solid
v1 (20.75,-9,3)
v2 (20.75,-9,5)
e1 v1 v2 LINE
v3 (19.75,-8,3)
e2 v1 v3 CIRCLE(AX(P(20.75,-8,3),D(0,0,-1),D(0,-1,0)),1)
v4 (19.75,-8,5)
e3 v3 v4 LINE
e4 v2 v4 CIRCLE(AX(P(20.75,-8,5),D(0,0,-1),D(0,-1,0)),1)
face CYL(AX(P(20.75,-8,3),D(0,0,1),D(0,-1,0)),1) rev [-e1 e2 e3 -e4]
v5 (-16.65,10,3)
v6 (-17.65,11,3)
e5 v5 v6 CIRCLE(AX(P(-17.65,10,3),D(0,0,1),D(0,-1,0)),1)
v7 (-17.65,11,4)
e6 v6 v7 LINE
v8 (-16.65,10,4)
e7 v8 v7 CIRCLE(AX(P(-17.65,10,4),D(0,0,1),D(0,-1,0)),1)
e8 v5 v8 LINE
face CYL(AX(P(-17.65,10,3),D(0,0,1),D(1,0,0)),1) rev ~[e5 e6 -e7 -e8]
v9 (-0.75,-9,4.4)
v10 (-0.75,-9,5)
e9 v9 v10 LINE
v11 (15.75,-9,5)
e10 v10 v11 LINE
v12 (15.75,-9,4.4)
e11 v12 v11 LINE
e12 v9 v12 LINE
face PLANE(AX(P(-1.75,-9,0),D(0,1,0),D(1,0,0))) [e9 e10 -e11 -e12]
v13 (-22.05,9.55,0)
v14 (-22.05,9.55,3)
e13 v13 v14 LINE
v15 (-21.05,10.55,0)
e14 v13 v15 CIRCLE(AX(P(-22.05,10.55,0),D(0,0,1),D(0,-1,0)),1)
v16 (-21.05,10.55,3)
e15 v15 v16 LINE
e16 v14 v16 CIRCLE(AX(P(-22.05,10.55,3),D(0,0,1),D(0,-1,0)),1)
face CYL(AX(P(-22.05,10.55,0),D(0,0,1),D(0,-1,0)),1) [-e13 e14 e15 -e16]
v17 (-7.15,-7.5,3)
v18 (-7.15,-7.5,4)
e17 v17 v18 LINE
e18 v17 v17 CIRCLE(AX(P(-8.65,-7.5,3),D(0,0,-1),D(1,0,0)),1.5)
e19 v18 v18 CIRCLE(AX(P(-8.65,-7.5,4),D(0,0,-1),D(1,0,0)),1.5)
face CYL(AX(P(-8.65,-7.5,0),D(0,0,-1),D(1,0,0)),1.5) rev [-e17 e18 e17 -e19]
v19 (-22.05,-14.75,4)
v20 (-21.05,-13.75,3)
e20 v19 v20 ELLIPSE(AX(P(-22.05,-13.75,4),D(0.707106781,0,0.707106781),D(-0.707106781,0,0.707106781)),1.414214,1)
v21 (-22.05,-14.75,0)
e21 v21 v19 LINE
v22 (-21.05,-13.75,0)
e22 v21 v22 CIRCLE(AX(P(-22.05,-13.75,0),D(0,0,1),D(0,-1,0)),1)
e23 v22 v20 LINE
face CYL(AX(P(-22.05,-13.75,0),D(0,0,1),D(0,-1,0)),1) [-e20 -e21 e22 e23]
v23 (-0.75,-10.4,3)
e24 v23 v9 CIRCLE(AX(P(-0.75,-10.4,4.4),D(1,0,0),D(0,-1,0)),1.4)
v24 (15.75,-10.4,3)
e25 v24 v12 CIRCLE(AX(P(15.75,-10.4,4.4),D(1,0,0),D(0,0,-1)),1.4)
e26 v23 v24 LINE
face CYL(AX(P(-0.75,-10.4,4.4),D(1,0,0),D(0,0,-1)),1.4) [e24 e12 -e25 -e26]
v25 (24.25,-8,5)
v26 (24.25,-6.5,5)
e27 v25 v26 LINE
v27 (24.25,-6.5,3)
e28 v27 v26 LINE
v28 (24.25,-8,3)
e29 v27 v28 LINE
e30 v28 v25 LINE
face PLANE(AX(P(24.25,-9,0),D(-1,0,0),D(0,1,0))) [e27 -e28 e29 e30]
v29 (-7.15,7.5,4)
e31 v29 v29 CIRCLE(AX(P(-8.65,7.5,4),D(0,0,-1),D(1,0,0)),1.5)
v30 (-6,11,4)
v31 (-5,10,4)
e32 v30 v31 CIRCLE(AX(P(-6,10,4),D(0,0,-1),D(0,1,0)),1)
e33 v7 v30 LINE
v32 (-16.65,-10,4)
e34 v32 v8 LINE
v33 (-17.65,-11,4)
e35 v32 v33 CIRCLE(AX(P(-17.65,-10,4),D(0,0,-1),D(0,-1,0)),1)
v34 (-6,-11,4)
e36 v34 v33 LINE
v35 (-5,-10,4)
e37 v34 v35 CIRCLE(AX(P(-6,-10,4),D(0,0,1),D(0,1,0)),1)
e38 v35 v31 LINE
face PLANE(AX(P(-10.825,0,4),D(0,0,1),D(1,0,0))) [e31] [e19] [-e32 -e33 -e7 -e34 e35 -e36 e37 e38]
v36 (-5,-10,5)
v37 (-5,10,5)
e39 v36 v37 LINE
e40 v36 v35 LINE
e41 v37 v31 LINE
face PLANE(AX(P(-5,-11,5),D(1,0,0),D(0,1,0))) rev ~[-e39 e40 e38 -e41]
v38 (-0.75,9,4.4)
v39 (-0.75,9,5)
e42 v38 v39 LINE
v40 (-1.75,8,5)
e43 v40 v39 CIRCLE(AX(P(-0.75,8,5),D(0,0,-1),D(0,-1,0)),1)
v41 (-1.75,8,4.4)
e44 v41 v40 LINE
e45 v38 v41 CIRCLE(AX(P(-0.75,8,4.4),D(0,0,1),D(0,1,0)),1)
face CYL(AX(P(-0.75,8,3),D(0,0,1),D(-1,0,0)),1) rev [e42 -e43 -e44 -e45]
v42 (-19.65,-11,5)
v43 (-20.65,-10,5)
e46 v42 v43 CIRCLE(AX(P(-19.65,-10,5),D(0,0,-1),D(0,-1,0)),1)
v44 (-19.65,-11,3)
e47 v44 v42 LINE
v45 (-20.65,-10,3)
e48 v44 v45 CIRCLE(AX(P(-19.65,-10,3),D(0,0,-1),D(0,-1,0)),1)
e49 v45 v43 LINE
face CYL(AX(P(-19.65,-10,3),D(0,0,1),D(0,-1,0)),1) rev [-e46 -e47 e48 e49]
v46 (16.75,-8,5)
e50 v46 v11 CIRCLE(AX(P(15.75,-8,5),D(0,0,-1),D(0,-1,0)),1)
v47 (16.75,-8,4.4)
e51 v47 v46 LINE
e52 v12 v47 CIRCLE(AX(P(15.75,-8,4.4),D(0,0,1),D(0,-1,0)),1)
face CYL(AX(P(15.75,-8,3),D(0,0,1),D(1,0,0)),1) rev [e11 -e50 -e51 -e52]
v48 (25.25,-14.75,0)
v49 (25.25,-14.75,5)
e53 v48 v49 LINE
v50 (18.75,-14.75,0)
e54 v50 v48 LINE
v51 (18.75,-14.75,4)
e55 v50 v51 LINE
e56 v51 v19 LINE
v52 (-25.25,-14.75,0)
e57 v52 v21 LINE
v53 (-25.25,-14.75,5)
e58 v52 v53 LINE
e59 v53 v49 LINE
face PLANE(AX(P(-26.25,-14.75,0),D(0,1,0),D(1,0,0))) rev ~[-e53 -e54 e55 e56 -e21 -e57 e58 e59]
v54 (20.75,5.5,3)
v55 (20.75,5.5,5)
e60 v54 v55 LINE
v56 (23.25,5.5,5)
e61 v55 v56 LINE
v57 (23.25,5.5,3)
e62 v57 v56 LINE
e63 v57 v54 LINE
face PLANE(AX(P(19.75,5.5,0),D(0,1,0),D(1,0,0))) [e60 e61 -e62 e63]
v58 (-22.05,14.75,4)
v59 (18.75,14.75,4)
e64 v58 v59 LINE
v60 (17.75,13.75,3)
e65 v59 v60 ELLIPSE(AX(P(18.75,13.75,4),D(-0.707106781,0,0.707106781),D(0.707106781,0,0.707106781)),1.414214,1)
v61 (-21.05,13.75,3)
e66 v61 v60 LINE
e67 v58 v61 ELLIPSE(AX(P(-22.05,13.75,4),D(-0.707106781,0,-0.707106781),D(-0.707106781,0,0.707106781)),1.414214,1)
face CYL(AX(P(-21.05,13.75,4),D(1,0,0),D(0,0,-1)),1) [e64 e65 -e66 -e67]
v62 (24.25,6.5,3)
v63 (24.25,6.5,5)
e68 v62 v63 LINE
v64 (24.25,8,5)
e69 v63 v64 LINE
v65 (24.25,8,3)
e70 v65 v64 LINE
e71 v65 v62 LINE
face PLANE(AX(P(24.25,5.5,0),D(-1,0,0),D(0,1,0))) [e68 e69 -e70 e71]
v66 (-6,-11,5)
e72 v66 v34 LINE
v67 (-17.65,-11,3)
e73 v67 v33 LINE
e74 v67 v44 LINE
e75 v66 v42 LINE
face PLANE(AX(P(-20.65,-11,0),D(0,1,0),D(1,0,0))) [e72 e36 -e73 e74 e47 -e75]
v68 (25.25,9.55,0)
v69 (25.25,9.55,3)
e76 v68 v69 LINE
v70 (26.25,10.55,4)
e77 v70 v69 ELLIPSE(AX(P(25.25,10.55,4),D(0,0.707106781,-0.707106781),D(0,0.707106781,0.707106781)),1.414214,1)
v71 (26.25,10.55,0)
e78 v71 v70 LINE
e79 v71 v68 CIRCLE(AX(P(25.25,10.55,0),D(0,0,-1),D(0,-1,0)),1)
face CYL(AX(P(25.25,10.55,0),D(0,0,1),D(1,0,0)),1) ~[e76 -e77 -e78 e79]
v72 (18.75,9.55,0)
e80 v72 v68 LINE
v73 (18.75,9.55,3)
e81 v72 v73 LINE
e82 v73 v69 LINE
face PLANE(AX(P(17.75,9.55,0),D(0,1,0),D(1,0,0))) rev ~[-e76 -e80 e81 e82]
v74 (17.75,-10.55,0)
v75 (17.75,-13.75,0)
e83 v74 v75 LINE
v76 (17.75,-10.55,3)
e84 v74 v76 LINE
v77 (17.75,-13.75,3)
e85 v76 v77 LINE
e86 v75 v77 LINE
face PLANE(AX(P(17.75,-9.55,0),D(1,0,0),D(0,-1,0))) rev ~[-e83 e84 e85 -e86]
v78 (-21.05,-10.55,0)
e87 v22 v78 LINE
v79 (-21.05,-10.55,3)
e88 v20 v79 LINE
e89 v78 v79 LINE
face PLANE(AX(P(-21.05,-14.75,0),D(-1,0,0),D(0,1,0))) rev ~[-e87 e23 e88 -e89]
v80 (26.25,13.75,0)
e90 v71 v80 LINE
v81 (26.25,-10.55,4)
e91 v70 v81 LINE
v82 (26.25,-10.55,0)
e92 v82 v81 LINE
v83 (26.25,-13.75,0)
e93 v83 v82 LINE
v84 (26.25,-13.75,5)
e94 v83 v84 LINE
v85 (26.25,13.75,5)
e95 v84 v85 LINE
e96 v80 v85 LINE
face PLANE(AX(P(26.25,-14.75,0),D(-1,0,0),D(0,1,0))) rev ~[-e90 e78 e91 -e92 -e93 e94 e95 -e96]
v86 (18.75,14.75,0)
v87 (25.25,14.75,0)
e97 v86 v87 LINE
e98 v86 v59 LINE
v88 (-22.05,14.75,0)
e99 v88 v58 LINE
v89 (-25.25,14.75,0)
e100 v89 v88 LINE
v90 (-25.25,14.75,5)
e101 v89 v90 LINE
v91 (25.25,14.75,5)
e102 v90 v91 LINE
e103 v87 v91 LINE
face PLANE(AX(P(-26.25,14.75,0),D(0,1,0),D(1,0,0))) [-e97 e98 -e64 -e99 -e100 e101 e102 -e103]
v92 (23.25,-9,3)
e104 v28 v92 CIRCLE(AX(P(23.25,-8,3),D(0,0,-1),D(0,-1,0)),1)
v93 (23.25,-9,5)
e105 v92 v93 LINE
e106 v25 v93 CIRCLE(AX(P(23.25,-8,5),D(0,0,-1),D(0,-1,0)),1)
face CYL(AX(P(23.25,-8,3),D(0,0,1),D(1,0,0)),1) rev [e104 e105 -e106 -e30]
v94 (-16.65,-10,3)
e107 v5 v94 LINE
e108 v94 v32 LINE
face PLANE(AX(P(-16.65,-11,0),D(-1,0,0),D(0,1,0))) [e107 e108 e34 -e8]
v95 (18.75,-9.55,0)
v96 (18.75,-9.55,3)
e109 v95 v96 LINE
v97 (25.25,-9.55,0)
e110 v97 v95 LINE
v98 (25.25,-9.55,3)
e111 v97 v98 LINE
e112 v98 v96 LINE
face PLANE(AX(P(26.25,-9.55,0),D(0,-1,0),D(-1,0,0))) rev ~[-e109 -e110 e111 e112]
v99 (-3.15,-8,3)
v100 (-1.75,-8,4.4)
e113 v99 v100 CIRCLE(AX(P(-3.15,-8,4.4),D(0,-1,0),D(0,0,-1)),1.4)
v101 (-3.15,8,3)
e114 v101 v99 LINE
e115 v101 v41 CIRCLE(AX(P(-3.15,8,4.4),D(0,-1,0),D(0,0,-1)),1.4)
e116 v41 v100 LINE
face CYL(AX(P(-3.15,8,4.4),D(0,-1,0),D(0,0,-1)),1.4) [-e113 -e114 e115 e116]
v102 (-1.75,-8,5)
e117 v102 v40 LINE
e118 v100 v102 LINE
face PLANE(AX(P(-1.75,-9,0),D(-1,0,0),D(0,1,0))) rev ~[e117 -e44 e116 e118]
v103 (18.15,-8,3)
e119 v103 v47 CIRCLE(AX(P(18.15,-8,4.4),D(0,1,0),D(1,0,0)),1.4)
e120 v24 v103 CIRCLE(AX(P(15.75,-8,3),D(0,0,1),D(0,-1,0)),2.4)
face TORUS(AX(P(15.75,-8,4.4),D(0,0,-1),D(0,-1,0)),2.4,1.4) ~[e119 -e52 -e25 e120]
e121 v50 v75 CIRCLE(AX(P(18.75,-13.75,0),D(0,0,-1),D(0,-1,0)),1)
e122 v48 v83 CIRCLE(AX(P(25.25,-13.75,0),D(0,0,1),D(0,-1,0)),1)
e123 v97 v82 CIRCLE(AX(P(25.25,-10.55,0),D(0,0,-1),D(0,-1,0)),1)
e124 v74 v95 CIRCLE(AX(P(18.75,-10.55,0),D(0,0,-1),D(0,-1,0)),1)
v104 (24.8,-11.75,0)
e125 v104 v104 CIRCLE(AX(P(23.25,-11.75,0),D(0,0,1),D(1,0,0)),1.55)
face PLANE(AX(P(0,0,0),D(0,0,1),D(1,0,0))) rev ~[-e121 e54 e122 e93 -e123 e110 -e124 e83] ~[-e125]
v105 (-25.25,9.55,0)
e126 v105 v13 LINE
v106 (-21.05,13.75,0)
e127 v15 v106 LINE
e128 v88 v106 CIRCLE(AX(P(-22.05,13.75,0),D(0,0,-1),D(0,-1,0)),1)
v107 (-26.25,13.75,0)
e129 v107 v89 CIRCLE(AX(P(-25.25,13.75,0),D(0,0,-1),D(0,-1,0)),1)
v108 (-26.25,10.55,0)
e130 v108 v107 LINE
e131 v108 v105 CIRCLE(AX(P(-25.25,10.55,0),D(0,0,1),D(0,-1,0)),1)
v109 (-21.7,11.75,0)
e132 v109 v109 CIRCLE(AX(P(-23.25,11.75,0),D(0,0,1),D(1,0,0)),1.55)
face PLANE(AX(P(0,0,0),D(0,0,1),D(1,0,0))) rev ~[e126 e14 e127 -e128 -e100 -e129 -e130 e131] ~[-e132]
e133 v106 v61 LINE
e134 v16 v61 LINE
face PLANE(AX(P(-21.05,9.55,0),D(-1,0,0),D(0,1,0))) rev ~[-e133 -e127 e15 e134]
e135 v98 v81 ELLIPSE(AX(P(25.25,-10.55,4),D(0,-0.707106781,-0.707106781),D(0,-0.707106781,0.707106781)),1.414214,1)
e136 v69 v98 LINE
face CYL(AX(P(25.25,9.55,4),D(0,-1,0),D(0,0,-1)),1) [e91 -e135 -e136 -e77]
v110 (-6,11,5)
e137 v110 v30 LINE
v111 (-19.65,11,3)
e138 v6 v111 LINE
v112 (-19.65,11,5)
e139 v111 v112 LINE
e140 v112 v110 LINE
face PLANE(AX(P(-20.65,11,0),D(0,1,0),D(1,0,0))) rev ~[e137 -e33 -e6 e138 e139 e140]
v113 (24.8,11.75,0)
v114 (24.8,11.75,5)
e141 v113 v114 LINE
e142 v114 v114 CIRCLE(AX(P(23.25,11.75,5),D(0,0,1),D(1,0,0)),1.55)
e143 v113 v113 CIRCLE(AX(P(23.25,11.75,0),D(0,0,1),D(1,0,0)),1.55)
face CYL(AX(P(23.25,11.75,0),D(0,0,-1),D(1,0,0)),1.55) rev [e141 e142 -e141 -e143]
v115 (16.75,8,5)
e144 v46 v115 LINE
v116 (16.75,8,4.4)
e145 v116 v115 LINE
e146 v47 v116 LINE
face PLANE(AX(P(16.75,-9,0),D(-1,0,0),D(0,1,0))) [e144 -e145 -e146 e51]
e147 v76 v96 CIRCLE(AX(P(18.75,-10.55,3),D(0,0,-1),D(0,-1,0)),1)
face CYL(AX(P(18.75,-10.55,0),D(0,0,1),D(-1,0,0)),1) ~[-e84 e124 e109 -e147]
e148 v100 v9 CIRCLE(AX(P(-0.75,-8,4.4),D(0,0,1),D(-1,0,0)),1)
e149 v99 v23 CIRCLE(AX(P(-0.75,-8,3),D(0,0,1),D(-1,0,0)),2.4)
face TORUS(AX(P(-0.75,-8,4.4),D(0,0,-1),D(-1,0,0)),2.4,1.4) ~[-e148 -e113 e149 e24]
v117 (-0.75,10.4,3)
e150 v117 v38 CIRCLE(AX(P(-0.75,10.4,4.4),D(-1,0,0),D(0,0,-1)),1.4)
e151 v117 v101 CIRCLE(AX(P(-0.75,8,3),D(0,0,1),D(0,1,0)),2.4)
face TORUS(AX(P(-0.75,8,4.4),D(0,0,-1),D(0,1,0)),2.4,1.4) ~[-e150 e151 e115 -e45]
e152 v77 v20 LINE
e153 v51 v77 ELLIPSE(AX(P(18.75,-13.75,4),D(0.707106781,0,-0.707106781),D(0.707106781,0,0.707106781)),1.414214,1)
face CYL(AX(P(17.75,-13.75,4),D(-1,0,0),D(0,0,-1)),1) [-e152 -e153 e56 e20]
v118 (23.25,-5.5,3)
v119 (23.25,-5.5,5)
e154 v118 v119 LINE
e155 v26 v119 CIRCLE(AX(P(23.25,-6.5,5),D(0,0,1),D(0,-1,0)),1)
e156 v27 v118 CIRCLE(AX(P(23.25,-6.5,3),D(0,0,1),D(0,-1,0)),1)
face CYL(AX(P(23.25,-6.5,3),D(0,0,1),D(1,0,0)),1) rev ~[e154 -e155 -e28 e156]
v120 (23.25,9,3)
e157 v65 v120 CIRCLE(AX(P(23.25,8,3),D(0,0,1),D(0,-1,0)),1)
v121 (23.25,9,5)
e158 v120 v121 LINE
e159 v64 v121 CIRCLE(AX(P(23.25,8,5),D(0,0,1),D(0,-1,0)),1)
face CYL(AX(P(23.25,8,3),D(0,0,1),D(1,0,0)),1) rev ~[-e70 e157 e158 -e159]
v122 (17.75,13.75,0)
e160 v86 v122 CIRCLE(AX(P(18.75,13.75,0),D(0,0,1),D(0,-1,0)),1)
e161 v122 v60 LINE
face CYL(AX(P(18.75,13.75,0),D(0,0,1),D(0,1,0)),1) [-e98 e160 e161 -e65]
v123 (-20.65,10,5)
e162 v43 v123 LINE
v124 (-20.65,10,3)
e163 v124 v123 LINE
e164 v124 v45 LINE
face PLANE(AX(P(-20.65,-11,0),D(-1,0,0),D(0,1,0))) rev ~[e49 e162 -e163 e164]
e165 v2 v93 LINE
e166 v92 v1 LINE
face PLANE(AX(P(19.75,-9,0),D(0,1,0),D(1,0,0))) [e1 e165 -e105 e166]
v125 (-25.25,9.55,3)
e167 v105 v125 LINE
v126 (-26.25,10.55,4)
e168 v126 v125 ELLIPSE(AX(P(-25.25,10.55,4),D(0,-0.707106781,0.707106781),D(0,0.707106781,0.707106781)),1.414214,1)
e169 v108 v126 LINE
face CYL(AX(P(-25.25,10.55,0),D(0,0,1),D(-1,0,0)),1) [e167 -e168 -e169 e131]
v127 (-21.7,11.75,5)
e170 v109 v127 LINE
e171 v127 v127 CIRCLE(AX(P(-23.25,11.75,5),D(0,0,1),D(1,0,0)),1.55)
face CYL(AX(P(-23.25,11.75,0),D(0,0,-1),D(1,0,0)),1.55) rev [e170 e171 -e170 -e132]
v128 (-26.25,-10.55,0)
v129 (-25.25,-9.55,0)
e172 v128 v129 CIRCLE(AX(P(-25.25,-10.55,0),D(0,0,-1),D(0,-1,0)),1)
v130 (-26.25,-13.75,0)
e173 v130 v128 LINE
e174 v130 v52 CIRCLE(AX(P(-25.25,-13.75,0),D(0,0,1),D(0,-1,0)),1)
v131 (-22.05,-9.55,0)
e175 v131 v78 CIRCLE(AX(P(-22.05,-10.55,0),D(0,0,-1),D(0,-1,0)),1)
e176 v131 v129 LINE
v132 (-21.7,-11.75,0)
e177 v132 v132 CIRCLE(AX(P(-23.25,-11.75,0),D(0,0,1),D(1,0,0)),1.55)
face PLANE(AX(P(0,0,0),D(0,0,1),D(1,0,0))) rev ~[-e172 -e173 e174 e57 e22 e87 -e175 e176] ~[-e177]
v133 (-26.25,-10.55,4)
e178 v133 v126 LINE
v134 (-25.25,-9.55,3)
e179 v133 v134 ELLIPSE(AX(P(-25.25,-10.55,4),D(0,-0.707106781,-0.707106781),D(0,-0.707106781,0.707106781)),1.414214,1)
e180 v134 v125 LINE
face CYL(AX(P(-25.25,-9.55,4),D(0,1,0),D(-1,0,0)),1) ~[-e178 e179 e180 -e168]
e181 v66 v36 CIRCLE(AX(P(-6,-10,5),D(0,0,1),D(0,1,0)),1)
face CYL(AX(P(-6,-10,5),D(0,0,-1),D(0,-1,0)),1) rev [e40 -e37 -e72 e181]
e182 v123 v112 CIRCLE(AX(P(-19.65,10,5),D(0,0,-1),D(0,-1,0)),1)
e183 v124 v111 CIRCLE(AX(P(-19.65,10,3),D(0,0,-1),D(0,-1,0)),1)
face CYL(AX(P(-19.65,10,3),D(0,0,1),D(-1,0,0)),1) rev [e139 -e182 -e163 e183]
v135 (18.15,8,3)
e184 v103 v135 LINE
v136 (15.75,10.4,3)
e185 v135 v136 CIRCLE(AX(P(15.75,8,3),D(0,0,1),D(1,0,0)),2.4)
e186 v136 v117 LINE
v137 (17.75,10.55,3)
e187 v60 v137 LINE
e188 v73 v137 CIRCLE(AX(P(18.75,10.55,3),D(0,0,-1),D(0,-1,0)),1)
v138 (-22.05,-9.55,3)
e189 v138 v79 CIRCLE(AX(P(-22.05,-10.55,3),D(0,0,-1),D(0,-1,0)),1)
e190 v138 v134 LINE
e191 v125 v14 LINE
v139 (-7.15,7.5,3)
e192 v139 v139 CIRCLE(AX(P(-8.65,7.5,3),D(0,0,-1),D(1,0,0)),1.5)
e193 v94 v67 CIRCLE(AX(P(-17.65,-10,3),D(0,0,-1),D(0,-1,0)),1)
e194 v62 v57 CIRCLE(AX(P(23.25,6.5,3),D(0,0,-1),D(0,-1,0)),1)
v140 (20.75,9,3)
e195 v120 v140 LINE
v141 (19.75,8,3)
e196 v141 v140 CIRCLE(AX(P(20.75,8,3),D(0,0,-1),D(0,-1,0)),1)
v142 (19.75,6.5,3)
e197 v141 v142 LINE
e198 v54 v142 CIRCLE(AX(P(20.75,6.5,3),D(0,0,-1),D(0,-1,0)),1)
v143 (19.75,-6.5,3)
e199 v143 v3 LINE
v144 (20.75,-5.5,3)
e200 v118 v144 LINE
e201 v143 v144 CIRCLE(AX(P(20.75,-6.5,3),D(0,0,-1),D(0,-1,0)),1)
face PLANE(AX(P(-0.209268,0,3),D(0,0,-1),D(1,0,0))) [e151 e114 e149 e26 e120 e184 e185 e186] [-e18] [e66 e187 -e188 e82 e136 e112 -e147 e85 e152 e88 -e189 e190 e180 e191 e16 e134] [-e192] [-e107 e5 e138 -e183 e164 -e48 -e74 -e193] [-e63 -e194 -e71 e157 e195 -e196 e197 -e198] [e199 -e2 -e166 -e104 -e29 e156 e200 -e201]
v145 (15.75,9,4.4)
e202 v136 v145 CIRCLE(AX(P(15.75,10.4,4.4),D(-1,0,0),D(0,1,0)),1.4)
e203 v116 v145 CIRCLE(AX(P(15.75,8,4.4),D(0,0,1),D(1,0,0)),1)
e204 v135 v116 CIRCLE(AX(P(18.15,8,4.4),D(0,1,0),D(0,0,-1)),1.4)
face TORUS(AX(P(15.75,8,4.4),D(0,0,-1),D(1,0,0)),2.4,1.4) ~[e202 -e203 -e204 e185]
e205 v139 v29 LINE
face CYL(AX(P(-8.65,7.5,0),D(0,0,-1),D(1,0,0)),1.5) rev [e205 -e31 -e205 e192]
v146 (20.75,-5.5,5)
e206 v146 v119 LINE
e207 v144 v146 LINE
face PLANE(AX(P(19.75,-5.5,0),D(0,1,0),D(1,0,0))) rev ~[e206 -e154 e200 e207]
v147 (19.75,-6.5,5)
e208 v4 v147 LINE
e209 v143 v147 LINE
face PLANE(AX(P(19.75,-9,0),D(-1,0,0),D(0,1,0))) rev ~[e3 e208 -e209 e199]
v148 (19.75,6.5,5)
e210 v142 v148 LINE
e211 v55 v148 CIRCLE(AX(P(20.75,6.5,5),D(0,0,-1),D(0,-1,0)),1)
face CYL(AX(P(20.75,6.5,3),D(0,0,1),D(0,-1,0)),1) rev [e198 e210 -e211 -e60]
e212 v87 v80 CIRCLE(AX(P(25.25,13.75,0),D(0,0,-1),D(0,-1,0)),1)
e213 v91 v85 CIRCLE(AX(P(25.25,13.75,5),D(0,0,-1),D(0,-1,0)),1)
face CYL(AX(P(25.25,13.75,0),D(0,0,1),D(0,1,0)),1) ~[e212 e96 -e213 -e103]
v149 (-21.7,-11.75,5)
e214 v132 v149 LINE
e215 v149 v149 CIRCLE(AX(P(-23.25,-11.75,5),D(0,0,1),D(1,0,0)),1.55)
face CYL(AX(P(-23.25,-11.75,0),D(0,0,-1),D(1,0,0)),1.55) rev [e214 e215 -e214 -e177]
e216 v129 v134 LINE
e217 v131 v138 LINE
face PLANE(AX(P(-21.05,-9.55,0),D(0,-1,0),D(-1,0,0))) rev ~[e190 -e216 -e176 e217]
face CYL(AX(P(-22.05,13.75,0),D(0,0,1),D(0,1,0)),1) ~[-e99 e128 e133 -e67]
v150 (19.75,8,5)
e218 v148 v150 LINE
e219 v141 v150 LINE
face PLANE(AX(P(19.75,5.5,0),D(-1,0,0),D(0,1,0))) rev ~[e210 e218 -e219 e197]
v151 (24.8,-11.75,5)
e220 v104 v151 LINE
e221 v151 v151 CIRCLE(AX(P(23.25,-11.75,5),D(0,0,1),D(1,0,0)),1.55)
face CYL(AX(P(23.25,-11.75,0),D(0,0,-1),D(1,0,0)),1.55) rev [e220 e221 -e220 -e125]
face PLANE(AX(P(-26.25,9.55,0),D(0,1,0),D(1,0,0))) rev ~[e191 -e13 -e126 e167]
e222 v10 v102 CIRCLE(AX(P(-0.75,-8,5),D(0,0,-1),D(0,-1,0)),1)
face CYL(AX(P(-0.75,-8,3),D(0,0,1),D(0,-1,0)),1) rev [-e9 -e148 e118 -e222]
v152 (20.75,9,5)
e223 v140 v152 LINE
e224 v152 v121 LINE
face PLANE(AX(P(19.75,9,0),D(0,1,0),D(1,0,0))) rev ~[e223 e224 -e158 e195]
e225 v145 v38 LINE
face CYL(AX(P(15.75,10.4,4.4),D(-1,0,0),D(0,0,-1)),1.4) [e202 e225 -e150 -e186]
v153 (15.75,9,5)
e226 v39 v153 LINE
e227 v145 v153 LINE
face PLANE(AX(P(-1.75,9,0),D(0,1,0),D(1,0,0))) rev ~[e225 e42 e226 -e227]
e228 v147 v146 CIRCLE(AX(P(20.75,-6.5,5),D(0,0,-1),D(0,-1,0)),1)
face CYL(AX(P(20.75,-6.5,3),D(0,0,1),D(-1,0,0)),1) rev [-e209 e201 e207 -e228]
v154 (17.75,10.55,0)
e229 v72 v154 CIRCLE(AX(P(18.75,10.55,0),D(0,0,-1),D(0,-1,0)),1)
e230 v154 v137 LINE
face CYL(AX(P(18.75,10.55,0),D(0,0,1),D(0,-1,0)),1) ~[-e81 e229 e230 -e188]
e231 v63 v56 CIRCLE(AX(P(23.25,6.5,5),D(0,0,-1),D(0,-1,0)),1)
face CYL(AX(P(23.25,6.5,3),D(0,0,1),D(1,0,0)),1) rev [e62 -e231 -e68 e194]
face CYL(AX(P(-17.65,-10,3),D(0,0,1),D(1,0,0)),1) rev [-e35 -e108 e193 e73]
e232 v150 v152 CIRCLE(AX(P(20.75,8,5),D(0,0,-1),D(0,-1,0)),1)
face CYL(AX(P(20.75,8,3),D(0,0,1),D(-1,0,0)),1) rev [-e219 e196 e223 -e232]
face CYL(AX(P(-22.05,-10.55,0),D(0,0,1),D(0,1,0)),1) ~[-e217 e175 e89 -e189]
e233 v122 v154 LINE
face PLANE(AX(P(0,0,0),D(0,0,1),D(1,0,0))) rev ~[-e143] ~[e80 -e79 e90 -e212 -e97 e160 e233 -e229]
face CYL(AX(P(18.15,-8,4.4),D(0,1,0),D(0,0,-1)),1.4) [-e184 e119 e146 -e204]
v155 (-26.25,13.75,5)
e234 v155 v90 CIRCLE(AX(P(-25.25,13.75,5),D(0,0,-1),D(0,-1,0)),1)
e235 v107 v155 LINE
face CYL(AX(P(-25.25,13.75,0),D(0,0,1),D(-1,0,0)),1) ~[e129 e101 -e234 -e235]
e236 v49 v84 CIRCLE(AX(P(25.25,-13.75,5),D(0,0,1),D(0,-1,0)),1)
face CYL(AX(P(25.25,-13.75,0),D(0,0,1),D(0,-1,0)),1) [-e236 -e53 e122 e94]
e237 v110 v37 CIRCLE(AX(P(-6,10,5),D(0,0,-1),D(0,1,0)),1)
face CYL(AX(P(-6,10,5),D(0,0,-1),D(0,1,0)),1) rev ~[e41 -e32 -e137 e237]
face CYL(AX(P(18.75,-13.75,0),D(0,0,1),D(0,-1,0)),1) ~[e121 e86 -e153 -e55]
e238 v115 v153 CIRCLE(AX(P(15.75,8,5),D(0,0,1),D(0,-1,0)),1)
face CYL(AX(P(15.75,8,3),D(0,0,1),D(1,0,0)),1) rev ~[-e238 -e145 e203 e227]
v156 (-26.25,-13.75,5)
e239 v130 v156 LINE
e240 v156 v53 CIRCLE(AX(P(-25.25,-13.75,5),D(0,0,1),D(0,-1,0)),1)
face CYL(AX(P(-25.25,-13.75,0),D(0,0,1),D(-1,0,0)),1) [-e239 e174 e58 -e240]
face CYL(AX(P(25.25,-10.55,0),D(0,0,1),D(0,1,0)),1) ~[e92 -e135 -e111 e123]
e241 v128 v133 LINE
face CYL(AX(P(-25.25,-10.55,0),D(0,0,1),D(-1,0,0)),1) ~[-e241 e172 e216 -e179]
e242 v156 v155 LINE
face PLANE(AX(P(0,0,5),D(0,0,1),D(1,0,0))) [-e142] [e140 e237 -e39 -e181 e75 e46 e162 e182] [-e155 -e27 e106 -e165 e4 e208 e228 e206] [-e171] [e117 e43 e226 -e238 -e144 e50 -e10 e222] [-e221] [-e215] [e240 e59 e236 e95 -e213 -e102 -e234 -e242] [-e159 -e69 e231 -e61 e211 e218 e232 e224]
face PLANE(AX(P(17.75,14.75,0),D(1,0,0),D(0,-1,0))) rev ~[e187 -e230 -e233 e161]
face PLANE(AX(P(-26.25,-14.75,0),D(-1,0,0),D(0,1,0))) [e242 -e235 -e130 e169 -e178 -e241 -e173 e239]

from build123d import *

# Parameters (mm, degrees)
SKETCH039_W     = 52.5
SKETCH039_H     = 29.5
SKETCH039_R     = 1.55
SKETCH039_R_2   = 1.5
SKETCH039_W_2   = 18.5
SKETCH039_H_2   = 18
SKETCH039_W_3   = 4
SKETCH039_H_3   = 22
SKETCH039_W_4   = 4.5
SKETCH039_H_4   = 3.5
PAD009_DEPTH    = 5
SKETCH040_W     = 11.65
SKETCH040_H     = 22
POCKET028_DEPTH = 1
POCKET029_DEPTH = 3
FILLET014_R     = 1
FILLET015_R     = 1.4


with BuildPart() as part:
    # Sketch039 → Pad009 (new body)
    with BuildSketch(Plane.XY):
        Rectangle(SKETCH039_W, SKETCH039_H)
        with Locations((-23.25, 11.75)):
            Circle(SKETCH039_R, mode=Mode.SUBTRACT)
        with Locations((23.25, 11.75)):
            Circle(SKETCH039_R, mode=Mode.SUBTRACT)
        with Locations((-23.25, -11.75)):
            Circle(SKETCH039_R, mode=Mode.SUBTRACT)
        with Locations((23.25, -11.75)):
            Circle(SKETCH039_R, mode=Mode.SUBTRACT)
        with Locations((-8.65, 7.5)):
            Circle(SKETCH039_R_2, mode=Mode.SUBTRACT)
        with Locations((-8.65, -7.5)):
            Circle(SKETCH039_R_2, mode=Mode.SUBTRACT)
        with Locations((7.5, 0)):
            Rectangle(SKETCH039_W_2, SKETCH039_H_2, mode=Mode.SUBTRACT)
        with Locations((-18.65, 0)):
            Rectangle(SKETCH039_W_3, SKETCH039_H_3, mode=Mode.SUBTRACT)
        with Locations((22, 7.25)):
            Rectangle(SKETCH039_W_4, SKETCH039_H_4, mode=Mode.SUBTRACT)
        with Locations((22, -7.25)):
            Rectangle(SKETCH039_W_4, SKETCH039_H_4, mode=Mode.SUBTRACT)
    extrude(amount=PAD009_DEPTH)

    # Sketch040 (on Face28 of Pad009) → Pocket028 (cut)
    with BuildSketch(Plane.XY.offset(5)):
        with Locations((-10.825, 0)):
            Rectangle(SKETCH040_W, SKETCH040_H)
    extrude(amount=-POCKET028_DEPTH, mode=Mode.SUBTRACT)

    # Sketch041 (on Face4 of Pocket028) → Pocket029 (cut)
    with BuildSketch(Plane(origin=(0, 0, 0), x_dir=(1, 0, 0), z_dir=(0, 0, -1))):
        Polygon((-21.05, 14.75), (-21.05, 9.55), (-26.25, 9.55), (-26.25, -9.55), (-21.05, -9.55), (-21.05, -14.75), (17.75, -14.75), (17.75, -9.55), (26.25, -9.55), (26.25, 9.55), (17.75, 9.55), (17.75, 14.75), align=None)
    extrude(amount=-POCKET029_DEPTH, mode=Mode.SUBTRACT)

    # Fillet014
    fillet014_edges = [part.edges().sort_by_distance(p)[0] for p in [
        (-26.25, -14.75, 2.5),
        (-26.25, 14.75, 2.5),
        (26.25, -14.75, 2.5),
        (17.75, -9.55, 1.5),
        (17.75, 9.55, 1.5),
        (-21.05, -9.55, 1.5),
        (-21.05, 9.55, 1.5),
        (26.25, 14.75, 2.5),
        (16.75, -9, 4),
        (-1.75, -9, 4),
        (16.75, 9, 4),
        (24.25, -5.5, 4),
        (24.25, 9, 4),
        (-16.65, 11, 3.5),
        (-20.65, -11, 4),
        (19.75, -9, 4),
        (19.75, 5.5, 4),
        (-20.65, 11, 4),
        (-1.75, 9, 4),
        (19.75, 9, 4),
        (19.75, -5.5, 4),
        (-16.65, -11, 3.5),
        (24.25, 5.5, 4),
        (24.25, -9, 4),
        (-5, -11, 4.5),
        (-5, 11, 4.5),
        (-21.05, -14.75, 1.5),
        (17.75, -14.75, 1.5),
        (26.25, -9.55, 1.5),
        (26.25, 9.55, 1.5),
        (-1.65, -14.75, 3),
        (17.75, 14.75, 1.5),
        (-21.05, 14.75, 1.5),
        (-26.25, -9.55, 1.5),
        (-26.25, 9.55, 1.5),
        (-26.25, 0, 3),
        (-1.65, 14.75, 3),
        (26.25, 0, 3),
    ]]
    fillet(fillet014_edges, radius=FILLET014_R)

    # Fillet015
    fillet015_edges = [part.edges().sort_by_distance(p)[0] for p in [
        (-1.75, 0, 3),
        (7.5, 9, 3),
        (16.75, 0, 3),
        (7.5, -9, 3),
    ]]
    fillet(fillet015_edges, radius=FILLET015_R)


solid = part.part
